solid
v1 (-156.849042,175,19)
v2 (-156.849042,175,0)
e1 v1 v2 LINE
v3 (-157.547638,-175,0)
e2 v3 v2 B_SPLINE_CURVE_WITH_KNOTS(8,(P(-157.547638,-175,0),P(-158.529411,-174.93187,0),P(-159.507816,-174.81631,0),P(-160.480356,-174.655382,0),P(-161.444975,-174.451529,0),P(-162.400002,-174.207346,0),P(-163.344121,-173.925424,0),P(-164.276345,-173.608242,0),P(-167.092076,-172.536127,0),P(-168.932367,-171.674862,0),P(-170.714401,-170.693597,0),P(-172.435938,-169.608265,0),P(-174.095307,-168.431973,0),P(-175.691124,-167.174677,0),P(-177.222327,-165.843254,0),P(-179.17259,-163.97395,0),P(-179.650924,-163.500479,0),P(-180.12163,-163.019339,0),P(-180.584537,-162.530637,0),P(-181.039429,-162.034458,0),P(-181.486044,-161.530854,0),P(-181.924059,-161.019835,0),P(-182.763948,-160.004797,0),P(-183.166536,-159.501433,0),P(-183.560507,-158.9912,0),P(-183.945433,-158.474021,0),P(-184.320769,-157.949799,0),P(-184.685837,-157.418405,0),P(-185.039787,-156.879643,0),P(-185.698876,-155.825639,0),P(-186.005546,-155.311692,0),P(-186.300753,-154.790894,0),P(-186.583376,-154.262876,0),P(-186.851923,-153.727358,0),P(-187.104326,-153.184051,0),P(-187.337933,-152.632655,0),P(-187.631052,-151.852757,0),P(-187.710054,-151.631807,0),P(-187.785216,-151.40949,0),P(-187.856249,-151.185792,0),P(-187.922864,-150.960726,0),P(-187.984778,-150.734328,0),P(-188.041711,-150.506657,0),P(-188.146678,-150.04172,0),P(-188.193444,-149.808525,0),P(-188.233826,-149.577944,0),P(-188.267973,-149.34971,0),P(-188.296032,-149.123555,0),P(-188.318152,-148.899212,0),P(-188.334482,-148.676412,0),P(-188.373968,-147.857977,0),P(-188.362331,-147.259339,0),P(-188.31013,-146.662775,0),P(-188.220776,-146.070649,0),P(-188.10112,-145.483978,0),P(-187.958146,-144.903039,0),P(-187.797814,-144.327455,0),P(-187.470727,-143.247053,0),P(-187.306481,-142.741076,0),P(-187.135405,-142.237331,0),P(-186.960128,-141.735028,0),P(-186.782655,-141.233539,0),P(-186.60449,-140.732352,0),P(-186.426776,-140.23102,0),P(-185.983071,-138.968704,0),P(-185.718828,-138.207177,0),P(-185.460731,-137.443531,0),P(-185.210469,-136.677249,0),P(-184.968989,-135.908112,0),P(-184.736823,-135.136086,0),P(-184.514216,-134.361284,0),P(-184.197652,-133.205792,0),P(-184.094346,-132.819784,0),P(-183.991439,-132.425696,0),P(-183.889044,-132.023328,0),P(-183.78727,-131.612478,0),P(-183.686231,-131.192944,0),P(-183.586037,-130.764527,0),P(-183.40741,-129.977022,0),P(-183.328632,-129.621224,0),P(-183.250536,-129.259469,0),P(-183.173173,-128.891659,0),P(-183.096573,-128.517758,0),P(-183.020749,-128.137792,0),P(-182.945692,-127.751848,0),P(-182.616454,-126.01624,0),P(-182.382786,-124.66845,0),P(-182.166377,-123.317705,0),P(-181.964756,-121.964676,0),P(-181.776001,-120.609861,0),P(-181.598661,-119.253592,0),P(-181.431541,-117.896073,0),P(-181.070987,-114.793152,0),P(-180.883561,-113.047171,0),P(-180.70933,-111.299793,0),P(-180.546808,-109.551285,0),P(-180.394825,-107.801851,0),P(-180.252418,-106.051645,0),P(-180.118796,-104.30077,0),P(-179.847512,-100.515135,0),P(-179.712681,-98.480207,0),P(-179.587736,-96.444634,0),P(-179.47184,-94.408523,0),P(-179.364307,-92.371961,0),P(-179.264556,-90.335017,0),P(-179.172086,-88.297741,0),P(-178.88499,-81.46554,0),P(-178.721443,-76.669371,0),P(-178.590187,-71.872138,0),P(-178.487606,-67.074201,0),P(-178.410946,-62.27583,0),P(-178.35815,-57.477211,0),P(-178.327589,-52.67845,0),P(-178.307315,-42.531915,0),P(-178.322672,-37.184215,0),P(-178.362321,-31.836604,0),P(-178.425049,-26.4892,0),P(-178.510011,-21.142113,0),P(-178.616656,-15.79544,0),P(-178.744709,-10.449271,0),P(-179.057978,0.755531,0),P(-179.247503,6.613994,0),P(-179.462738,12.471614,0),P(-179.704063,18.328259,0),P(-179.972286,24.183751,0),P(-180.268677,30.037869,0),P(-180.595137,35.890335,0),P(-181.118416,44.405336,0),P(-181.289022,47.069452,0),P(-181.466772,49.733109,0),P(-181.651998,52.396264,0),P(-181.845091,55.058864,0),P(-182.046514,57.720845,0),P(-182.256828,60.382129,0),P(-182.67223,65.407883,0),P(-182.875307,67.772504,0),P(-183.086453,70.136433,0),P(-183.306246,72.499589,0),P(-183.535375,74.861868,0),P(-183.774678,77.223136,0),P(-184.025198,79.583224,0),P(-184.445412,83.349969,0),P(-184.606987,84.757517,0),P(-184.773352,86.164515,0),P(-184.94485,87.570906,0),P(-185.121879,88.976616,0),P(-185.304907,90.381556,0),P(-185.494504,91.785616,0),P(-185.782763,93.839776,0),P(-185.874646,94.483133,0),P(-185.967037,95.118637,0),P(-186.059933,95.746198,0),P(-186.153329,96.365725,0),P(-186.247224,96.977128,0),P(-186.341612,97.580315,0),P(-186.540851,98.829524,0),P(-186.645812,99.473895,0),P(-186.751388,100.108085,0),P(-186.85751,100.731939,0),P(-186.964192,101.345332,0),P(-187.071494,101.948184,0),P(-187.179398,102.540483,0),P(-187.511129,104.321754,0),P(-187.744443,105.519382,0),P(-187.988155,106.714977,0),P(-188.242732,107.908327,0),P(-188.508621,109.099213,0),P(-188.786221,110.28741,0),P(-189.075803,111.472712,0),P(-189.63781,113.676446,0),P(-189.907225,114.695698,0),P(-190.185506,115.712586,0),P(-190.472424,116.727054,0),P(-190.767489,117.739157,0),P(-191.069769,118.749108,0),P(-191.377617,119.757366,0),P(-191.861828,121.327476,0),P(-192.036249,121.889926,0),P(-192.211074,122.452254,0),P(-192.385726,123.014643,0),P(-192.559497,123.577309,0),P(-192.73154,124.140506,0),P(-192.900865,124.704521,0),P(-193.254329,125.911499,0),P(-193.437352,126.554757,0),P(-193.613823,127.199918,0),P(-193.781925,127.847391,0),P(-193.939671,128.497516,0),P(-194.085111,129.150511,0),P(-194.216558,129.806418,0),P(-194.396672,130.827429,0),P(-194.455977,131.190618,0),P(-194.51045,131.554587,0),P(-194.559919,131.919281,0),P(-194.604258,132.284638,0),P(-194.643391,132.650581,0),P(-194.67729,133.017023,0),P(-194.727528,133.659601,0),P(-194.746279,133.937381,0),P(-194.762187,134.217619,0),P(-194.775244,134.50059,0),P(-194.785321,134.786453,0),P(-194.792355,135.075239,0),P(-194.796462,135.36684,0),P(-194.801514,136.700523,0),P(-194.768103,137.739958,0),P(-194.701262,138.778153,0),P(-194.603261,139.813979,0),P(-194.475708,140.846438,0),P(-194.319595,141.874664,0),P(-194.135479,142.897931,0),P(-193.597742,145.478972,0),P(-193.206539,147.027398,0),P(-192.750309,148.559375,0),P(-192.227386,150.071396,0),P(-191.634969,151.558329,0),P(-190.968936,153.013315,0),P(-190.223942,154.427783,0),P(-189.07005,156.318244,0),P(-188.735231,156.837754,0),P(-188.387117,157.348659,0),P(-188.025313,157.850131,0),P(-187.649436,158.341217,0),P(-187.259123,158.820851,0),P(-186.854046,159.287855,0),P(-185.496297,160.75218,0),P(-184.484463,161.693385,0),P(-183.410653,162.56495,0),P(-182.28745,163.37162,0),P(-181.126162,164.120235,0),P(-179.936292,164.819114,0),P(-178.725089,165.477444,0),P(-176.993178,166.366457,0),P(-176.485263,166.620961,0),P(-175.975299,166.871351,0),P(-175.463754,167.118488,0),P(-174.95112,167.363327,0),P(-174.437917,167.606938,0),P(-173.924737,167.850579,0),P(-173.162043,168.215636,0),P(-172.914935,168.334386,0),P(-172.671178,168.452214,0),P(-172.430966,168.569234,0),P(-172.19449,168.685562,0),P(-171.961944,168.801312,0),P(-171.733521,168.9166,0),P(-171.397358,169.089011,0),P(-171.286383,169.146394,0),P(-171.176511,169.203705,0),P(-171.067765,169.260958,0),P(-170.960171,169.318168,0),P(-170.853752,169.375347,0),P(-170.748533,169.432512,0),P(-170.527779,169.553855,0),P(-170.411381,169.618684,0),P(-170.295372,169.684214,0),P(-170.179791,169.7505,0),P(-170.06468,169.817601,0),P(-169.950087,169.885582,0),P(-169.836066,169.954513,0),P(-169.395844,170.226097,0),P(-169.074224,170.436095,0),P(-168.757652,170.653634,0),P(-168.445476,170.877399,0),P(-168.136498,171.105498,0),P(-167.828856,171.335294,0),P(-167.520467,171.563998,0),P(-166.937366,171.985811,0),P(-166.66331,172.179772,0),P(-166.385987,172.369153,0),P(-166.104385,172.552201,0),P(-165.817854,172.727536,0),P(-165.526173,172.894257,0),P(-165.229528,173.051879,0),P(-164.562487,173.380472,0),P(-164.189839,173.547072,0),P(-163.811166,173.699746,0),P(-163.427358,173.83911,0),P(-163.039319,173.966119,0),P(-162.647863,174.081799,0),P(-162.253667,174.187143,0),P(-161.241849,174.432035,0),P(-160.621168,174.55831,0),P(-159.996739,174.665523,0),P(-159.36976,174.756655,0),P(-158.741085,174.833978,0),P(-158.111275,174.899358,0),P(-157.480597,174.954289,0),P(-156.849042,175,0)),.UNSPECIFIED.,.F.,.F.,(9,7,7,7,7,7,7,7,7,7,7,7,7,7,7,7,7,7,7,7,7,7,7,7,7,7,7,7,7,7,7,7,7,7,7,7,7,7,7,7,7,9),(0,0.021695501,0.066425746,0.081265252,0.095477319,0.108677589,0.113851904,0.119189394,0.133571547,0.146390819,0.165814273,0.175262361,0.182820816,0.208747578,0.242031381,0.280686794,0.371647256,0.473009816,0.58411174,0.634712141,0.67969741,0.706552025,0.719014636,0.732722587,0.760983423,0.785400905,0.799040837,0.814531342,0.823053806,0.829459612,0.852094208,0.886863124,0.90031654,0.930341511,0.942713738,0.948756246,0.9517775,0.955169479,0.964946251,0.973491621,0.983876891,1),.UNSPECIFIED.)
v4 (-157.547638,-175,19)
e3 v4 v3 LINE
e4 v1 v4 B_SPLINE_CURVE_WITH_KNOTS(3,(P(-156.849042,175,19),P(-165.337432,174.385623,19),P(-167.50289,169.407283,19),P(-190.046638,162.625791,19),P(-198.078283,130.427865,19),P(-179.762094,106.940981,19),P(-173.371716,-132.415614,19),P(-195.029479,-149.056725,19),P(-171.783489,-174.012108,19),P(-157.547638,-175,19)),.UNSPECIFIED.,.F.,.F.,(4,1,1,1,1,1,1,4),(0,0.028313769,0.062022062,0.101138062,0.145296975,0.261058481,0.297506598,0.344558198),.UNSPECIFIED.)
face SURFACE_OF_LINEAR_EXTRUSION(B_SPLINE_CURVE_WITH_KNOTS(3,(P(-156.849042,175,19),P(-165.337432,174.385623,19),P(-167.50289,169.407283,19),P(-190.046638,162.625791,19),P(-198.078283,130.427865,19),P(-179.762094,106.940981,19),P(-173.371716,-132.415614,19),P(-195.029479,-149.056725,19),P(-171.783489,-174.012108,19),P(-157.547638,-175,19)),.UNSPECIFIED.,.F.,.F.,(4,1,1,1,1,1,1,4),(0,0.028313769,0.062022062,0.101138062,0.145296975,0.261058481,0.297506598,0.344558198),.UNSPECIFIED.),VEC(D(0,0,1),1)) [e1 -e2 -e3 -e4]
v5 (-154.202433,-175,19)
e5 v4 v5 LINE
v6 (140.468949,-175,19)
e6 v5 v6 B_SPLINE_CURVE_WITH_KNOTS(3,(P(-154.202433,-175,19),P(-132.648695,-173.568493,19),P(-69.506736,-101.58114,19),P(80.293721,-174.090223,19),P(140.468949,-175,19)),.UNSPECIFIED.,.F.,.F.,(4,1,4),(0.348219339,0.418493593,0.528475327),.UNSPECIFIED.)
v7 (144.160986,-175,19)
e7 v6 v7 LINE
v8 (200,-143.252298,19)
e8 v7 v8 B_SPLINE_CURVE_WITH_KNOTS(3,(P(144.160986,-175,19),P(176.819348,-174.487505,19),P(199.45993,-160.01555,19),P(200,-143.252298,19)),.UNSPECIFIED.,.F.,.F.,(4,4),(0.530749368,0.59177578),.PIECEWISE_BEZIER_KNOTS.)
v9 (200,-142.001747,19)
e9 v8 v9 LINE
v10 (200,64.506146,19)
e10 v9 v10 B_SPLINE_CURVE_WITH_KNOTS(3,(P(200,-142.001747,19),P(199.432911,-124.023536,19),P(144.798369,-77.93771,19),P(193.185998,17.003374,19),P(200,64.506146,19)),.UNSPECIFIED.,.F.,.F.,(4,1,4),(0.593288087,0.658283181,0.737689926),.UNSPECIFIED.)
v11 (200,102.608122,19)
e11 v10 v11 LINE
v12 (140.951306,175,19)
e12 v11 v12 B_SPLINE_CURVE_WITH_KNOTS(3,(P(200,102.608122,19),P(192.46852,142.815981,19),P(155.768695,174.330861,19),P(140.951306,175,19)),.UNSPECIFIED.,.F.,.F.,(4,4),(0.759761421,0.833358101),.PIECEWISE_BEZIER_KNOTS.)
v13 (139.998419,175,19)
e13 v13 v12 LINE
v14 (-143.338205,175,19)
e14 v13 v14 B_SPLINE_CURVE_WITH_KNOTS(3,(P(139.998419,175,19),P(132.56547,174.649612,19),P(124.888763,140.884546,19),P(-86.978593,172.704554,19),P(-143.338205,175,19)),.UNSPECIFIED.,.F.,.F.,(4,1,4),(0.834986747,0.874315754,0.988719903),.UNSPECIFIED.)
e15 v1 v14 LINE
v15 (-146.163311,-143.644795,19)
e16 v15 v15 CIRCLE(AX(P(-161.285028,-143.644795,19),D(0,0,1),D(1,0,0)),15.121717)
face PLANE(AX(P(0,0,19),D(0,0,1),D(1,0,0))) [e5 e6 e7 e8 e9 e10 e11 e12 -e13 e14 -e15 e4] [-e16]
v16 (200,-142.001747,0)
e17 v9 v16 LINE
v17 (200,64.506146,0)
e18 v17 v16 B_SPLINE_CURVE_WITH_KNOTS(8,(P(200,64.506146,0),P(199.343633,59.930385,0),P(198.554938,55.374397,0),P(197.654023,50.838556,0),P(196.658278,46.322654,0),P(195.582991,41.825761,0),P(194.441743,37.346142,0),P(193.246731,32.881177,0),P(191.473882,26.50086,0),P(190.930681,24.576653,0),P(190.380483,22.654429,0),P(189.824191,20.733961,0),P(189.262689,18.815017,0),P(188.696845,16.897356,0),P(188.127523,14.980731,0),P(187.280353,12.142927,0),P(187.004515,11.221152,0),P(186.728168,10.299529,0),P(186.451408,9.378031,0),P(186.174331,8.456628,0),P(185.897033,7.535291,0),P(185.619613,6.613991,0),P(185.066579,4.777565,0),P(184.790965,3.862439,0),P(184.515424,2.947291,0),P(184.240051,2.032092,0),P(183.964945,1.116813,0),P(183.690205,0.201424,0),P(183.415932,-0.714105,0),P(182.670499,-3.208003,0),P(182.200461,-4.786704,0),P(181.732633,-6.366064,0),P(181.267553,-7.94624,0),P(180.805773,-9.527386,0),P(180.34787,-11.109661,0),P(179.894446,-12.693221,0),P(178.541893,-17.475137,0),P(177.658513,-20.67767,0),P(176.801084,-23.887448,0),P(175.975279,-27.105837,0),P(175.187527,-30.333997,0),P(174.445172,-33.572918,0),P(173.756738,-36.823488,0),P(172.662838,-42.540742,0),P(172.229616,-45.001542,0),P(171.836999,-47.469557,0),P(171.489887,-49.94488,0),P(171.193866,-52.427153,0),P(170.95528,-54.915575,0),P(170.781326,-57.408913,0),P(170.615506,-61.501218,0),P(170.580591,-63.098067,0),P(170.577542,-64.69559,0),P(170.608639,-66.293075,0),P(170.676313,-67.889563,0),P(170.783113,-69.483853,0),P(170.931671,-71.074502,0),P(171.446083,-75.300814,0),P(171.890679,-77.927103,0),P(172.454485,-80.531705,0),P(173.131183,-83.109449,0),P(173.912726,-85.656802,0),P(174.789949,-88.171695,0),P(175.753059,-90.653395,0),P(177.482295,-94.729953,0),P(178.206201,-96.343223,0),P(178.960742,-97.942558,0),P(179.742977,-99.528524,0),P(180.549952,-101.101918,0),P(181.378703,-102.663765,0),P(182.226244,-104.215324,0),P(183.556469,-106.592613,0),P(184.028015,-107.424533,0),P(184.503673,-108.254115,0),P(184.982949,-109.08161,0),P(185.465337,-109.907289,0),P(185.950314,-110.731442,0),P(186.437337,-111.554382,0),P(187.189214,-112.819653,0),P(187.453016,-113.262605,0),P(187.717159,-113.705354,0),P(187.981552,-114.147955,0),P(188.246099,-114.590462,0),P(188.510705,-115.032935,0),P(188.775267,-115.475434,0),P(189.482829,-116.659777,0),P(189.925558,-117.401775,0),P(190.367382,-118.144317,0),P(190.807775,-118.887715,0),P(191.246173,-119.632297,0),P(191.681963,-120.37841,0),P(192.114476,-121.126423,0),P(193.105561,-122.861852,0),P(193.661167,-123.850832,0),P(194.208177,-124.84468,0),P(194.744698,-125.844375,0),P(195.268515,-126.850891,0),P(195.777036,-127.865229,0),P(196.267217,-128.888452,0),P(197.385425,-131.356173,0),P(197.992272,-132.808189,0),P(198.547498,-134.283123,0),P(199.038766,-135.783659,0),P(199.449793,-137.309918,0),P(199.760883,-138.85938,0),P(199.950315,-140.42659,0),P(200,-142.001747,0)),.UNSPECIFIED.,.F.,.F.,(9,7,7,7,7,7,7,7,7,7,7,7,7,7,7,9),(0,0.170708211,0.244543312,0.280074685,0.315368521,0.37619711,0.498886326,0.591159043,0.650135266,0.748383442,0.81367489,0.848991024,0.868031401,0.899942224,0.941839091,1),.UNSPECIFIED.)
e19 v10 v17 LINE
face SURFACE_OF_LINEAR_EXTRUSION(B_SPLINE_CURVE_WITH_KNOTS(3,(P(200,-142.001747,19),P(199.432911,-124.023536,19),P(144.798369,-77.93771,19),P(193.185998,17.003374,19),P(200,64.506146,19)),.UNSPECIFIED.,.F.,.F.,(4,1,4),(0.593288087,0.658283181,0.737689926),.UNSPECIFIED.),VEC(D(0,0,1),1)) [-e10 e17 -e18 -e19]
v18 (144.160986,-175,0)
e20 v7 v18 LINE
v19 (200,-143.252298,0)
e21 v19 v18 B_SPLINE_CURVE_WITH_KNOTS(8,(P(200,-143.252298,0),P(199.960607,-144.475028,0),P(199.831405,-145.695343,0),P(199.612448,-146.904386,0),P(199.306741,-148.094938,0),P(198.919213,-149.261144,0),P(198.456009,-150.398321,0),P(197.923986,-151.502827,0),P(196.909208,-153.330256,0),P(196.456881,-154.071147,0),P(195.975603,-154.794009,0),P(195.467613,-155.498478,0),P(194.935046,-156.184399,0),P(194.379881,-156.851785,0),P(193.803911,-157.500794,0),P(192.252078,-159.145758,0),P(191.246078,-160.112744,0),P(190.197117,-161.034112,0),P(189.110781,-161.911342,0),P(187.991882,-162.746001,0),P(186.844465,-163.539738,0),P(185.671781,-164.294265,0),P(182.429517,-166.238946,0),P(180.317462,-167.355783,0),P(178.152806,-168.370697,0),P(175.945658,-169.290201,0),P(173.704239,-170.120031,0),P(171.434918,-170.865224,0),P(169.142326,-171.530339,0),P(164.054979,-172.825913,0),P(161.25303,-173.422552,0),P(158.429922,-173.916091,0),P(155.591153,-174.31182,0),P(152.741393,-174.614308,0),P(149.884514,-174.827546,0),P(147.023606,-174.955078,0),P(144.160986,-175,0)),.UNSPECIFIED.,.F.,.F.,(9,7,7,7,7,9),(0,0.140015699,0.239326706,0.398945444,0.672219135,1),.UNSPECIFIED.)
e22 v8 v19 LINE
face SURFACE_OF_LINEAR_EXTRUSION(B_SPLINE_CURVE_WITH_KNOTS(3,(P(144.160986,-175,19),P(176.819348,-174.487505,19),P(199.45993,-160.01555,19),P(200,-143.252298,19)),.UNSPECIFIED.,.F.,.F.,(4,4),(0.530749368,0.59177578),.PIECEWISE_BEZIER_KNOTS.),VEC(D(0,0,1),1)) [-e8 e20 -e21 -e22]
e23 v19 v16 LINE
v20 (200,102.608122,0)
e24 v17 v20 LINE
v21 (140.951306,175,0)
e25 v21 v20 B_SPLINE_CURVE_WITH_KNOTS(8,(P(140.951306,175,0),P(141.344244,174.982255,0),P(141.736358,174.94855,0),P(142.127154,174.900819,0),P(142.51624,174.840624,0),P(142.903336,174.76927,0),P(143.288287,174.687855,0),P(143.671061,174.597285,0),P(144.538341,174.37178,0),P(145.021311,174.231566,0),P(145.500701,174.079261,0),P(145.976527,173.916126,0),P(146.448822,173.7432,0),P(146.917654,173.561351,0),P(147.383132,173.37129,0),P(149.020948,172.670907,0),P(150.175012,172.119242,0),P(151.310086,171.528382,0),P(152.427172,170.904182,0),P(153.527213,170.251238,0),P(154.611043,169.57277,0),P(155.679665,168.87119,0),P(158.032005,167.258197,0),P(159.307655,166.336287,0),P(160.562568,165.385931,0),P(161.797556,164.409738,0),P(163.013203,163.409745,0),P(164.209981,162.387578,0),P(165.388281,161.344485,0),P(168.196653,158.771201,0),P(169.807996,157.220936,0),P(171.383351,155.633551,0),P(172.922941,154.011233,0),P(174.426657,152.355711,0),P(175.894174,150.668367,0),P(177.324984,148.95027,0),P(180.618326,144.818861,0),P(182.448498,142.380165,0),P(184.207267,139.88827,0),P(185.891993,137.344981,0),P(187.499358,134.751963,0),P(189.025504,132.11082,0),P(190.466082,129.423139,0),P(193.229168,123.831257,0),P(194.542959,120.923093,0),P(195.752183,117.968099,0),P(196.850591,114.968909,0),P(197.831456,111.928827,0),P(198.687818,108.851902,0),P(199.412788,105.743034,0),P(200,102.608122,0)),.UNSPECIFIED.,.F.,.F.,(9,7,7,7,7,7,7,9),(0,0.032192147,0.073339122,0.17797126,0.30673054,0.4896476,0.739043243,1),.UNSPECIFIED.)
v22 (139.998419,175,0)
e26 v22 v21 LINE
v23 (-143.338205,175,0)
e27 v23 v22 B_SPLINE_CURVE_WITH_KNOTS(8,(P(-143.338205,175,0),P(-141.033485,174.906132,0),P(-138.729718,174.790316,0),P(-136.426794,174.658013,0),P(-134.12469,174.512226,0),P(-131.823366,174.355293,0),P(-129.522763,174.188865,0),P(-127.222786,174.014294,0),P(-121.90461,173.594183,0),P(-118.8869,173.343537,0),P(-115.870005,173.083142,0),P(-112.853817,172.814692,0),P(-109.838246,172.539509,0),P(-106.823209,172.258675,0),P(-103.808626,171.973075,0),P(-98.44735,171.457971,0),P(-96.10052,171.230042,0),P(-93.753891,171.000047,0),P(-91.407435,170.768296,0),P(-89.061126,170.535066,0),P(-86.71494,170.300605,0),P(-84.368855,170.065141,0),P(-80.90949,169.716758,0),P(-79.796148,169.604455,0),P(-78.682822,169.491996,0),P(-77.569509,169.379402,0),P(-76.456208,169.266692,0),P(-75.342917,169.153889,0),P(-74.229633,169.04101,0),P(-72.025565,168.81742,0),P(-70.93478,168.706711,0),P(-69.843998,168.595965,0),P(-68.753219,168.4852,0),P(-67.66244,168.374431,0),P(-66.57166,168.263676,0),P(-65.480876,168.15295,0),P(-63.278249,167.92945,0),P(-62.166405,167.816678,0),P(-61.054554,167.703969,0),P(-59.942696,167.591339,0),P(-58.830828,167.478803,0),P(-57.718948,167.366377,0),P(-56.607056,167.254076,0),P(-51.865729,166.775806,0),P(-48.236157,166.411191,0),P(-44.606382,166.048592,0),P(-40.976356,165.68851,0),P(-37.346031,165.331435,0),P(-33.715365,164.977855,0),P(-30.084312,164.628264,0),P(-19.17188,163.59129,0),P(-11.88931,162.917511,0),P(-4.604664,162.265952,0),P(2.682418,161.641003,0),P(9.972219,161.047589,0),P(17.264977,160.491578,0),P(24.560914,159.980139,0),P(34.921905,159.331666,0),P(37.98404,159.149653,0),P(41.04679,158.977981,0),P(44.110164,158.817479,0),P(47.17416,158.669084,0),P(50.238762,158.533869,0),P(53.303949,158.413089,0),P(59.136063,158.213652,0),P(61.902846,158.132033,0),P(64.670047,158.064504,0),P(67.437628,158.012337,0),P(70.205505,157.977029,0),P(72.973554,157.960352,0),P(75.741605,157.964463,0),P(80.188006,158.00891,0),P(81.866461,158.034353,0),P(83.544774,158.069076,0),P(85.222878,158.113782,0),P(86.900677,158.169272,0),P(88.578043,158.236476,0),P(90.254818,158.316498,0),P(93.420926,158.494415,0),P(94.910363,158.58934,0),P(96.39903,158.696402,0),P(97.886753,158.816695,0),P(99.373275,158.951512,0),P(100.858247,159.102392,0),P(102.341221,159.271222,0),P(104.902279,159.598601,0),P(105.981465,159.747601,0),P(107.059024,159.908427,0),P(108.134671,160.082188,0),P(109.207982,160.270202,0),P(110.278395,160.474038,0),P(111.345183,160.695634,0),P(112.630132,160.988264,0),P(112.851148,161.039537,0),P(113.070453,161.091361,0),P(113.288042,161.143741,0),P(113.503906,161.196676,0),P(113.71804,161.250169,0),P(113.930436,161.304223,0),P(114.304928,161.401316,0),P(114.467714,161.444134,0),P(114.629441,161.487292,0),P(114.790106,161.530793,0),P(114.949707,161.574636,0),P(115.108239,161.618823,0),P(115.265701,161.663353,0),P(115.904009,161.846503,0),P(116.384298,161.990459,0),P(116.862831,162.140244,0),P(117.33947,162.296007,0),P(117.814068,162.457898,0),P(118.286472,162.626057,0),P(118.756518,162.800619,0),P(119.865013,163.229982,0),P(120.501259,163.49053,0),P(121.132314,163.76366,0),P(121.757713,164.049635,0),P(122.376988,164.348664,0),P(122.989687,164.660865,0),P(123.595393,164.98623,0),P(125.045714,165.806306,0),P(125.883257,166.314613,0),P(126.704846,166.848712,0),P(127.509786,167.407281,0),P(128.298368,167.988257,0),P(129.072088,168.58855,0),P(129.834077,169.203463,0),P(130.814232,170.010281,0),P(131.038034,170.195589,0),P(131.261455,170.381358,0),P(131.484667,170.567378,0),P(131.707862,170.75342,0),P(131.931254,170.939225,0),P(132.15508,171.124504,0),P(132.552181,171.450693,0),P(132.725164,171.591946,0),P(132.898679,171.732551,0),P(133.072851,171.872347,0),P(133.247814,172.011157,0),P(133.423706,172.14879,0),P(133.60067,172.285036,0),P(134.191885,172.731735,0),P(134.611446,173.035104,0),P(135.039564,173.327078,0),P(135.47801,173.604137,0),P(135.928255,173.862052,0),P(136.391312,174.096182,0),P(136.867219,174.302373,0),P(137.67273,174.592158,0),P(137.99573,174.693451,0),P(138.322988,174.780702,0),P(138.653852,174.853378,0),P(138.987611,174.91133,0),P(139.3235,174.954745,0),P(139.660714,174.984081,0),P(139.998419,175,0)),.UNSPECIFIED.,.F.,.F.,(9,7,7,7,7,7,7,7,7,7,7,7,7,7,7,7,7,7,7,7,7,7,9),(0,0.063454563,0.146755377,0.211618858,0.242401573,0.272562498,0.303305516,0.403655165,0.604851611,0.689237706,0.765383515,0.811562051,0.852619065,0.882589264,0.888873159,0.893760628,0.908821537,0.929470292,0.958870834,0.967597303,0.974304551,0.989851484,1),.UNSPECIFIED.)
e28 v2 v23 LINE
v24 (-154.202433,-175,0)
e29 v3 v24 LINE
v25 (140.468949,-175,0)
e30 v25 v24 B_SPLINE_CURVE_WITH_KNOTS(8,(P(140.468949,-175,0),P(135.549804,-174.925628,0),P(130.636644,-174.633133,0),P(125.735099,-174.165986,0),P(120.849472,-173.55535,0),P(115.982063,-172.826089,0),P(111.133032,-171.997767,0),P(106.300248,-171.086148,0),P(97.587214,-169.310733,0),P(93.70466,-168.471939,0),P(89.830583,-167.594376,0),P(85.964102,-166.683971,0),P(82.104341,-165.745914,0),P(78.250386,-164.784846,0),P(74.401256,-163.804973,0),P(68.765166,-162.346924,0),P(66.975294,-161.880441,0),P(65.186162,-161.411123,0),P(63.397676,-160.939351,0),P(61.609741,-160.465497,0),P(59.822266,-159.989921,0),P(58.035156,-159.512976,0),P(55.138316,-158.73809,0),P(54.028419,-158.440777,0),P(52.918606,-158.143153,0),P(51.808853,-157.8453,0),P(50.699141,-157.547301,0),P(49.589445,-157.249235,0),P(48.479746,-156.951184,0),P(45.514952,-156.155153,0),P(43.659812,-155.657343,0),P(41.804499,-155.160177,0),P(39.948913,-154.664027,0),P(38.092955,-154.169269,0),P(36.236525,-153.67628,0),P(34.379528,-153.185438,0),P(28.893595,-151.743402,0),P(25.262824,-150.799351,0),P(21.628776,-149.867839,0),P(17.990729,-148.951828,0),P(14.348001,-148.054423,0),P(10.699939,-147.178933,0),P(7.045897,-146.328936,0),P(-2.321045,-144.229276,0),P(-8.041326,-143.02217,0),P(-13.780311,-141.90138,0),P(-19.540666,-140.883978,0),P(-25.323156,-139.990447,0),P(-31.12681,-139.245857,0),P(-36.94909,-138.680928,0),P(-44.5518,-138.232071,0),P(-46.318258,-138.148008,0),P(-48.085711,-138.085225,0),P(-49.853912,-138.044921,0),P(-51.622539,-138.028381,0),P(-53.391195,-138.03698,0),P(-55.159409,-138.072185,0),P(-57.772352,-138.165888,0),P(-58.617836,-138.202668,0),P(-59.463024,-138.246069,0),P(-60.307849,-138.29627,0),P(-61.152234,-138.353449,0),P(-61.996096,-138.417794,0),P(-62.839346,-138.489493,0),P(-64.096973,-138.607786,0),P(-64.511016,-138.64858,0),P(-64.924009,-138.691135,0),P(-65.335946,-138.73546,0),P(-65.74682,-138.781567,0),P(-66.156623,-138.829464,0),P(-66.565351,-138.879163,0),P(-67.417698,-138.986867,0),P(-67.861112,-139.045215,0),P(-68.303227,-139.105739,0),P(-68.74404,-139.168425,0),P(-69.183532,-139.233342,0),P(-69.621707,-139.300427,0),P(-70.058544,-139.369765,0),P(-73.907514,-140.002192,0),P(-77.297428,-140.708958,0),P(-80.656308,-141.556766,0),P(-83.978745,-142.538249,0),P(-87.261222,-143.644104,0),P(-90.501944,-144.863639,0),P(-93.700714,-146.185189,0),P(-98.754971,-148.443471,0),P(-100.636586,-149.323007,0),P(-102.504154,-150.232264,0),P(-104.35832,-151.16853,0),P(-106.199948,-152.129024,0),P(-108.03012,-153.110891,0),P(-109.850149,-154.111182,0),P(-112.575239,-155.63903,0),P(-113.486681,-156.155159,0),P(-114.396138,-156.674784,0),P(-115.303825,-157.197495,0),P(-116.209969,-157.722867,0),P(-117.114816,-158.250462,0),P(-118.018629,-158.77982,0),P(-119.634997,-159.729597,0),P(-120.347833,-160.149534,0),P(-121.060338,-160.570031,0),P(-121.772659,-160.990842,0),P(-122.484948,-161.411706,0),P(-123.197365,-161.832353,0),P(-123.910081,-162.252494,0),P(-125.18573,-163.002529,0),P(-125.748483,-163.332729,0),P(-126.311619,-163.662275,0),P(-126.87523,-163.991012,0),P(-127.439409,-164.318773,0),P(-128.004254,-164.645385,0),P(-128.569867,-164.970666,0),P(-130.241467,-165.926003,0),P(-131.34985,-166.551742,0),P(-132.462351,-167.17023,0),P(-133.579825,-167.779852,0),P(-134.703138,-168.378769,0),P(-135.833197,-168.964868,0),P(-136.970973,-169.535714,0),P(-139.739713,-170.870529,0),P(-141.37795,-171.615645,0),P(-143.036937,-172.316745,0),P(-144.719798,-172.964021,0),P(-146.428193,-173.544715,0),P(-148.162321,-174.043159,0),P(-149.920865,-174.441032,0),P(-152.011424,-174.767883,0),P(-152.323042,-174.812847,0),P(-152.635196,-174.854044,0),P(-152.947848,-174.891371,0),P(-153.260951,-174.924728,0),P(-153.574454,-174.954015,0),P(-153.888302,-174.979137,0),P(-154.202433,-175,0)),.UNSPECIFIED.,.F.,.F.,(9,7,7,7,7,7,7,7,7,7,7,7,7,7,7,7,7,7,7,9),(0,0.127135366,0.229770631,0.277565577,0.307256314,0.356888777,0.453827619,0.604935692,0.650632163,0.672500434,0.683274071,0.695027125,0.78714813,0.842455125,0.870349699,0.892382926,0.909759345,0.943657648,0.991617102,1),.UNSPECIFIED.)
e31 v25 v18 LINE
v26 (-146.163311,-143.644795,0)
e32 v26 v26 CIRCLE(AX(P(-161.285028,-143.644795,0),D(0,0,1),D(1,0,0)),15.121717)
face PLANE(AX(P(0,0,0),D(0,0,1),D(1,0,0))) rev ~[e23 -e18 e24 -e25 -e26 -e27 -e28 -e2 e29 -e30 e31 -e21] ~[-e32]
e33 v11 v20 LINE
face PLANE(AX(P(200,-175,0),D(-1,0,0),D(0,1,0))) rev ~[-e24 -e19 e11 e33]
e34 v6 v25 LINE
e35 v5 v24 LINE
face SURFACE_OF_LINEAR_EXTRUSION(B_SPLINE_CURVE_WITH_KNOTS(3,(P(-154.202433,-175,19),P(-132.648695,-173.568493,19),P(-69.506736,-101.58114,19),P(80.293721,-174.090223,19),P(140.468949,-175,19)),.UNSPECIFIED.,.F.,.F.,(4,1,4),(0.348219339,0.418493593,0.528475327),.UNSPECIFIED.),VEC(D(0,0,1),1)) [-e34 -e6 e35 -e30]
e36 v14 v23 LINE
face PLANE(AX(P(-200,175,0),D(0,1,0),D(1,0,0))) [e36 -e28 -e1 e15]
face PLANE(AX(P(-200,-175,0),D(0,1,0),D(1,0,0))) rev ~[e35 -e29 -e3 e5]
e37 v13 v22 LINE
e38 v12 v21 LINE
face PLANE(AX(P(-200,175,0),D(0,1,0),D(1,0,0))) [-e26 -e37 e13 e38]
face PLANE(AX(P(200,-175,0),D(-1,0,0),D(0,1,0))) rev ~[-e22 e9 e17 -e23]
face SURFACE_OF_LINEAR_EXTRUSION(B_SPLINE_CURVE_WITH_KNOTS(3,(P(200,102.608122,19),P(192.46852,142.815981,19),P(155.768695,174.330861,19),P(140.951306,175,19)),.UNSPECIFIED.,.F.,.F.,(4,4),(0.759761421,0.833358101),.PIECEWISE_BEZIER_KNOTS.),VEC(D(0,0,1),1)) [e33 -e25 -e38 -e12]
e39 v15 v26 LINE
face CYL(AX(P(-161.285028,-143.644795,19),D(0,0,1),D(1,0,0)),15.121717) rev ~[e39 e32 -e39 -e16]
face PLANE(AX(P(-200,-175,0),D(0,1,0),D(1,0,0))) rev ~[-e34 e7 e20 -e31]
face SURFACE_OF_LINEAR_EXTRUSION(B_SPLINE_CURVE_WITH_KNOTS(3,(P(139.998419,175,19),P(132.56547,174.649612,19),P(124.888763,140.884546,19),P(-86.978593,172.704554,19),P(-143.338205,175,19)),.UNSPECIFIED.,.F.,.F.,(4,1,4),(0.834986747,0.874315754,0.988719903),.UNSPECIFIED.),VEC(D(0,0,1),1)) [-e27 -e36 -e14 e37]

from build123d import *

# Parameters (mm, degrees)
F0_W     = 400
F0_H     = 350
F1_DEPTH = 19
F3_DEPTH = 19.001
F2_R     = 15.1217172487
F4_DEPTH = 19.0010001


with BuildPart() as f1:
    # F0 (on Top) → F1 (new body)
    with BuildSketch(Plane.XY):
        Rectangle(F0_W, F0_H)
    extrude(amount=F1_DEPTH)

    # F2 (on face) → F3 (cut, through all)
    with BuildSketch(Plane.XY.offset(19)):
        with BuildLine():
            Line((139.9984191032, 175), (-143.3382051032, 175))
            add(Edge.make_bspline(
                [(139.9984191032, 175), (132.5654700253, 174.6496124521), (124.8887627653, 140.884546191), (-86.9785932309, 172.7045538974), (-143.3382051032, 175)],
                knots=[0.8349867466, 0.8349867466, 0.8349867466, 0.8349867466, 0.8743157542, 0.9887199032, 0.9887199032, 0.9887199032, 0.9887199032], degree=3))
        make_face()
        with BuildLine():
            Line((200, 175), (140.9513056278, 175))
            add(Edge.make_bspline(
                [(200, 102.6081219316), (192.4685199101, 142.8159812544), (155.7686945176, 174.3308605765), (140.9513056278, 175)],
                knots=[0.7597614207, 0.7597614207, 0.7597614207, 0.7597614207, 0.8333581006, 0.8333581006, 0.8333581006, 0.8333581006], degree=3))
            Line((200, 102.6081219315), (200, 175))
        make_face()
        with BuildLine():
            Line((200, -142.0017472128), (200, 64.5061459425))
            add(Edge.make_bspline(
                [(200, -142.0017472128), (199.4329105241, -124.0235355686), (144.7983687215, -77.937710136), (193.1859977178, 17.0033735573), (200, 64.5061459425)],
                knots=[0.593288087, 0.593288087, 0.593288087, 0.593288087, 0.6582831814, 0.7376899258, 0.7376899258, 0.7376899258, 0.7376899258], degree=3))
        make_face()
        with BuildLine():
            add(Edge.make_bspline(
                [(144.1609859467, -175), (176.8193483932, -174.4875053292), (199.4599303841, -160.0155497317), (200, -143.2522982359)],
                knots=[0.5307493681, 0.5307493681, 0.5307493681, 0.5307493681, 0.59177578, 0.59177578, 0.59177578, 0.59177578], degree=3))
            Line((144.1609859467, -175), (200, -175))
            Line((200, -175), (200, -143.2522982359))
        make_face()
        with BuildLine():
            add(Edge.make_bspline(
                [(-154.202432909, -175), (-132.6486954492, -173.5684929992), (-69.5067362952, -101.5811396609), (80.2937212178, -174.0902233299), (140.4689487721, -175)],
                knots=[0.3482193392, 0.3482193392, 0.3482193392, 0.3482193392, 0.4184935934, 0.5284753271, 0.5284753271, 0.5284753271, 0.5284753271], degree=3))
            Line((-154.202432909, -175), (140.4689487721, -175))
        make_face()
        with BuildLine():
            add(Edge.make_bspline(
                [(-156.8490415812, 175), (-165.3374317263, 174.3856228152), (-167.5028899481, 169.4072833112), (-190.0466375071, 162.6257906862), (-198.0782826841, 130.4278651247), (-179.7620941005, 106.9409813337), (-173.3717158261, -132.4156144029), (-195.0294793917, -149.0567252475), (-171.7834887438, -174.0121083658), (-157.5476378202, -175)],
                knots=[0, 0, 0, 0, 0.0283137694, 0.0620220617, 0.1011380618, 0.1452969745, 0.2610584813, 0.2975065975, 0.3445581979, 0.3445581979, 0.3445581979, 0.3445581979], degree=3))
            Line((-156.8490415812, 175), (-200, 175))
            Line((-200, 175), (-200, -175))
            Line((-200, -175), (-157.5476378202, -175))
        make_face()
    extrude(amount=-F3_DEPTH, mode=Mode.SUBTRACT)

    # F2 (on face) → F4 (cut, through all)
    with BuildSketch(Plane.XY.offset(19)):
        with Locations((-161.2850278616, -143.6447948217)):
            Circle(F2_R)
    extrude(amount=-F4_DEPTH, mode=Mode.SUBTRACT)


solid = f1.part
